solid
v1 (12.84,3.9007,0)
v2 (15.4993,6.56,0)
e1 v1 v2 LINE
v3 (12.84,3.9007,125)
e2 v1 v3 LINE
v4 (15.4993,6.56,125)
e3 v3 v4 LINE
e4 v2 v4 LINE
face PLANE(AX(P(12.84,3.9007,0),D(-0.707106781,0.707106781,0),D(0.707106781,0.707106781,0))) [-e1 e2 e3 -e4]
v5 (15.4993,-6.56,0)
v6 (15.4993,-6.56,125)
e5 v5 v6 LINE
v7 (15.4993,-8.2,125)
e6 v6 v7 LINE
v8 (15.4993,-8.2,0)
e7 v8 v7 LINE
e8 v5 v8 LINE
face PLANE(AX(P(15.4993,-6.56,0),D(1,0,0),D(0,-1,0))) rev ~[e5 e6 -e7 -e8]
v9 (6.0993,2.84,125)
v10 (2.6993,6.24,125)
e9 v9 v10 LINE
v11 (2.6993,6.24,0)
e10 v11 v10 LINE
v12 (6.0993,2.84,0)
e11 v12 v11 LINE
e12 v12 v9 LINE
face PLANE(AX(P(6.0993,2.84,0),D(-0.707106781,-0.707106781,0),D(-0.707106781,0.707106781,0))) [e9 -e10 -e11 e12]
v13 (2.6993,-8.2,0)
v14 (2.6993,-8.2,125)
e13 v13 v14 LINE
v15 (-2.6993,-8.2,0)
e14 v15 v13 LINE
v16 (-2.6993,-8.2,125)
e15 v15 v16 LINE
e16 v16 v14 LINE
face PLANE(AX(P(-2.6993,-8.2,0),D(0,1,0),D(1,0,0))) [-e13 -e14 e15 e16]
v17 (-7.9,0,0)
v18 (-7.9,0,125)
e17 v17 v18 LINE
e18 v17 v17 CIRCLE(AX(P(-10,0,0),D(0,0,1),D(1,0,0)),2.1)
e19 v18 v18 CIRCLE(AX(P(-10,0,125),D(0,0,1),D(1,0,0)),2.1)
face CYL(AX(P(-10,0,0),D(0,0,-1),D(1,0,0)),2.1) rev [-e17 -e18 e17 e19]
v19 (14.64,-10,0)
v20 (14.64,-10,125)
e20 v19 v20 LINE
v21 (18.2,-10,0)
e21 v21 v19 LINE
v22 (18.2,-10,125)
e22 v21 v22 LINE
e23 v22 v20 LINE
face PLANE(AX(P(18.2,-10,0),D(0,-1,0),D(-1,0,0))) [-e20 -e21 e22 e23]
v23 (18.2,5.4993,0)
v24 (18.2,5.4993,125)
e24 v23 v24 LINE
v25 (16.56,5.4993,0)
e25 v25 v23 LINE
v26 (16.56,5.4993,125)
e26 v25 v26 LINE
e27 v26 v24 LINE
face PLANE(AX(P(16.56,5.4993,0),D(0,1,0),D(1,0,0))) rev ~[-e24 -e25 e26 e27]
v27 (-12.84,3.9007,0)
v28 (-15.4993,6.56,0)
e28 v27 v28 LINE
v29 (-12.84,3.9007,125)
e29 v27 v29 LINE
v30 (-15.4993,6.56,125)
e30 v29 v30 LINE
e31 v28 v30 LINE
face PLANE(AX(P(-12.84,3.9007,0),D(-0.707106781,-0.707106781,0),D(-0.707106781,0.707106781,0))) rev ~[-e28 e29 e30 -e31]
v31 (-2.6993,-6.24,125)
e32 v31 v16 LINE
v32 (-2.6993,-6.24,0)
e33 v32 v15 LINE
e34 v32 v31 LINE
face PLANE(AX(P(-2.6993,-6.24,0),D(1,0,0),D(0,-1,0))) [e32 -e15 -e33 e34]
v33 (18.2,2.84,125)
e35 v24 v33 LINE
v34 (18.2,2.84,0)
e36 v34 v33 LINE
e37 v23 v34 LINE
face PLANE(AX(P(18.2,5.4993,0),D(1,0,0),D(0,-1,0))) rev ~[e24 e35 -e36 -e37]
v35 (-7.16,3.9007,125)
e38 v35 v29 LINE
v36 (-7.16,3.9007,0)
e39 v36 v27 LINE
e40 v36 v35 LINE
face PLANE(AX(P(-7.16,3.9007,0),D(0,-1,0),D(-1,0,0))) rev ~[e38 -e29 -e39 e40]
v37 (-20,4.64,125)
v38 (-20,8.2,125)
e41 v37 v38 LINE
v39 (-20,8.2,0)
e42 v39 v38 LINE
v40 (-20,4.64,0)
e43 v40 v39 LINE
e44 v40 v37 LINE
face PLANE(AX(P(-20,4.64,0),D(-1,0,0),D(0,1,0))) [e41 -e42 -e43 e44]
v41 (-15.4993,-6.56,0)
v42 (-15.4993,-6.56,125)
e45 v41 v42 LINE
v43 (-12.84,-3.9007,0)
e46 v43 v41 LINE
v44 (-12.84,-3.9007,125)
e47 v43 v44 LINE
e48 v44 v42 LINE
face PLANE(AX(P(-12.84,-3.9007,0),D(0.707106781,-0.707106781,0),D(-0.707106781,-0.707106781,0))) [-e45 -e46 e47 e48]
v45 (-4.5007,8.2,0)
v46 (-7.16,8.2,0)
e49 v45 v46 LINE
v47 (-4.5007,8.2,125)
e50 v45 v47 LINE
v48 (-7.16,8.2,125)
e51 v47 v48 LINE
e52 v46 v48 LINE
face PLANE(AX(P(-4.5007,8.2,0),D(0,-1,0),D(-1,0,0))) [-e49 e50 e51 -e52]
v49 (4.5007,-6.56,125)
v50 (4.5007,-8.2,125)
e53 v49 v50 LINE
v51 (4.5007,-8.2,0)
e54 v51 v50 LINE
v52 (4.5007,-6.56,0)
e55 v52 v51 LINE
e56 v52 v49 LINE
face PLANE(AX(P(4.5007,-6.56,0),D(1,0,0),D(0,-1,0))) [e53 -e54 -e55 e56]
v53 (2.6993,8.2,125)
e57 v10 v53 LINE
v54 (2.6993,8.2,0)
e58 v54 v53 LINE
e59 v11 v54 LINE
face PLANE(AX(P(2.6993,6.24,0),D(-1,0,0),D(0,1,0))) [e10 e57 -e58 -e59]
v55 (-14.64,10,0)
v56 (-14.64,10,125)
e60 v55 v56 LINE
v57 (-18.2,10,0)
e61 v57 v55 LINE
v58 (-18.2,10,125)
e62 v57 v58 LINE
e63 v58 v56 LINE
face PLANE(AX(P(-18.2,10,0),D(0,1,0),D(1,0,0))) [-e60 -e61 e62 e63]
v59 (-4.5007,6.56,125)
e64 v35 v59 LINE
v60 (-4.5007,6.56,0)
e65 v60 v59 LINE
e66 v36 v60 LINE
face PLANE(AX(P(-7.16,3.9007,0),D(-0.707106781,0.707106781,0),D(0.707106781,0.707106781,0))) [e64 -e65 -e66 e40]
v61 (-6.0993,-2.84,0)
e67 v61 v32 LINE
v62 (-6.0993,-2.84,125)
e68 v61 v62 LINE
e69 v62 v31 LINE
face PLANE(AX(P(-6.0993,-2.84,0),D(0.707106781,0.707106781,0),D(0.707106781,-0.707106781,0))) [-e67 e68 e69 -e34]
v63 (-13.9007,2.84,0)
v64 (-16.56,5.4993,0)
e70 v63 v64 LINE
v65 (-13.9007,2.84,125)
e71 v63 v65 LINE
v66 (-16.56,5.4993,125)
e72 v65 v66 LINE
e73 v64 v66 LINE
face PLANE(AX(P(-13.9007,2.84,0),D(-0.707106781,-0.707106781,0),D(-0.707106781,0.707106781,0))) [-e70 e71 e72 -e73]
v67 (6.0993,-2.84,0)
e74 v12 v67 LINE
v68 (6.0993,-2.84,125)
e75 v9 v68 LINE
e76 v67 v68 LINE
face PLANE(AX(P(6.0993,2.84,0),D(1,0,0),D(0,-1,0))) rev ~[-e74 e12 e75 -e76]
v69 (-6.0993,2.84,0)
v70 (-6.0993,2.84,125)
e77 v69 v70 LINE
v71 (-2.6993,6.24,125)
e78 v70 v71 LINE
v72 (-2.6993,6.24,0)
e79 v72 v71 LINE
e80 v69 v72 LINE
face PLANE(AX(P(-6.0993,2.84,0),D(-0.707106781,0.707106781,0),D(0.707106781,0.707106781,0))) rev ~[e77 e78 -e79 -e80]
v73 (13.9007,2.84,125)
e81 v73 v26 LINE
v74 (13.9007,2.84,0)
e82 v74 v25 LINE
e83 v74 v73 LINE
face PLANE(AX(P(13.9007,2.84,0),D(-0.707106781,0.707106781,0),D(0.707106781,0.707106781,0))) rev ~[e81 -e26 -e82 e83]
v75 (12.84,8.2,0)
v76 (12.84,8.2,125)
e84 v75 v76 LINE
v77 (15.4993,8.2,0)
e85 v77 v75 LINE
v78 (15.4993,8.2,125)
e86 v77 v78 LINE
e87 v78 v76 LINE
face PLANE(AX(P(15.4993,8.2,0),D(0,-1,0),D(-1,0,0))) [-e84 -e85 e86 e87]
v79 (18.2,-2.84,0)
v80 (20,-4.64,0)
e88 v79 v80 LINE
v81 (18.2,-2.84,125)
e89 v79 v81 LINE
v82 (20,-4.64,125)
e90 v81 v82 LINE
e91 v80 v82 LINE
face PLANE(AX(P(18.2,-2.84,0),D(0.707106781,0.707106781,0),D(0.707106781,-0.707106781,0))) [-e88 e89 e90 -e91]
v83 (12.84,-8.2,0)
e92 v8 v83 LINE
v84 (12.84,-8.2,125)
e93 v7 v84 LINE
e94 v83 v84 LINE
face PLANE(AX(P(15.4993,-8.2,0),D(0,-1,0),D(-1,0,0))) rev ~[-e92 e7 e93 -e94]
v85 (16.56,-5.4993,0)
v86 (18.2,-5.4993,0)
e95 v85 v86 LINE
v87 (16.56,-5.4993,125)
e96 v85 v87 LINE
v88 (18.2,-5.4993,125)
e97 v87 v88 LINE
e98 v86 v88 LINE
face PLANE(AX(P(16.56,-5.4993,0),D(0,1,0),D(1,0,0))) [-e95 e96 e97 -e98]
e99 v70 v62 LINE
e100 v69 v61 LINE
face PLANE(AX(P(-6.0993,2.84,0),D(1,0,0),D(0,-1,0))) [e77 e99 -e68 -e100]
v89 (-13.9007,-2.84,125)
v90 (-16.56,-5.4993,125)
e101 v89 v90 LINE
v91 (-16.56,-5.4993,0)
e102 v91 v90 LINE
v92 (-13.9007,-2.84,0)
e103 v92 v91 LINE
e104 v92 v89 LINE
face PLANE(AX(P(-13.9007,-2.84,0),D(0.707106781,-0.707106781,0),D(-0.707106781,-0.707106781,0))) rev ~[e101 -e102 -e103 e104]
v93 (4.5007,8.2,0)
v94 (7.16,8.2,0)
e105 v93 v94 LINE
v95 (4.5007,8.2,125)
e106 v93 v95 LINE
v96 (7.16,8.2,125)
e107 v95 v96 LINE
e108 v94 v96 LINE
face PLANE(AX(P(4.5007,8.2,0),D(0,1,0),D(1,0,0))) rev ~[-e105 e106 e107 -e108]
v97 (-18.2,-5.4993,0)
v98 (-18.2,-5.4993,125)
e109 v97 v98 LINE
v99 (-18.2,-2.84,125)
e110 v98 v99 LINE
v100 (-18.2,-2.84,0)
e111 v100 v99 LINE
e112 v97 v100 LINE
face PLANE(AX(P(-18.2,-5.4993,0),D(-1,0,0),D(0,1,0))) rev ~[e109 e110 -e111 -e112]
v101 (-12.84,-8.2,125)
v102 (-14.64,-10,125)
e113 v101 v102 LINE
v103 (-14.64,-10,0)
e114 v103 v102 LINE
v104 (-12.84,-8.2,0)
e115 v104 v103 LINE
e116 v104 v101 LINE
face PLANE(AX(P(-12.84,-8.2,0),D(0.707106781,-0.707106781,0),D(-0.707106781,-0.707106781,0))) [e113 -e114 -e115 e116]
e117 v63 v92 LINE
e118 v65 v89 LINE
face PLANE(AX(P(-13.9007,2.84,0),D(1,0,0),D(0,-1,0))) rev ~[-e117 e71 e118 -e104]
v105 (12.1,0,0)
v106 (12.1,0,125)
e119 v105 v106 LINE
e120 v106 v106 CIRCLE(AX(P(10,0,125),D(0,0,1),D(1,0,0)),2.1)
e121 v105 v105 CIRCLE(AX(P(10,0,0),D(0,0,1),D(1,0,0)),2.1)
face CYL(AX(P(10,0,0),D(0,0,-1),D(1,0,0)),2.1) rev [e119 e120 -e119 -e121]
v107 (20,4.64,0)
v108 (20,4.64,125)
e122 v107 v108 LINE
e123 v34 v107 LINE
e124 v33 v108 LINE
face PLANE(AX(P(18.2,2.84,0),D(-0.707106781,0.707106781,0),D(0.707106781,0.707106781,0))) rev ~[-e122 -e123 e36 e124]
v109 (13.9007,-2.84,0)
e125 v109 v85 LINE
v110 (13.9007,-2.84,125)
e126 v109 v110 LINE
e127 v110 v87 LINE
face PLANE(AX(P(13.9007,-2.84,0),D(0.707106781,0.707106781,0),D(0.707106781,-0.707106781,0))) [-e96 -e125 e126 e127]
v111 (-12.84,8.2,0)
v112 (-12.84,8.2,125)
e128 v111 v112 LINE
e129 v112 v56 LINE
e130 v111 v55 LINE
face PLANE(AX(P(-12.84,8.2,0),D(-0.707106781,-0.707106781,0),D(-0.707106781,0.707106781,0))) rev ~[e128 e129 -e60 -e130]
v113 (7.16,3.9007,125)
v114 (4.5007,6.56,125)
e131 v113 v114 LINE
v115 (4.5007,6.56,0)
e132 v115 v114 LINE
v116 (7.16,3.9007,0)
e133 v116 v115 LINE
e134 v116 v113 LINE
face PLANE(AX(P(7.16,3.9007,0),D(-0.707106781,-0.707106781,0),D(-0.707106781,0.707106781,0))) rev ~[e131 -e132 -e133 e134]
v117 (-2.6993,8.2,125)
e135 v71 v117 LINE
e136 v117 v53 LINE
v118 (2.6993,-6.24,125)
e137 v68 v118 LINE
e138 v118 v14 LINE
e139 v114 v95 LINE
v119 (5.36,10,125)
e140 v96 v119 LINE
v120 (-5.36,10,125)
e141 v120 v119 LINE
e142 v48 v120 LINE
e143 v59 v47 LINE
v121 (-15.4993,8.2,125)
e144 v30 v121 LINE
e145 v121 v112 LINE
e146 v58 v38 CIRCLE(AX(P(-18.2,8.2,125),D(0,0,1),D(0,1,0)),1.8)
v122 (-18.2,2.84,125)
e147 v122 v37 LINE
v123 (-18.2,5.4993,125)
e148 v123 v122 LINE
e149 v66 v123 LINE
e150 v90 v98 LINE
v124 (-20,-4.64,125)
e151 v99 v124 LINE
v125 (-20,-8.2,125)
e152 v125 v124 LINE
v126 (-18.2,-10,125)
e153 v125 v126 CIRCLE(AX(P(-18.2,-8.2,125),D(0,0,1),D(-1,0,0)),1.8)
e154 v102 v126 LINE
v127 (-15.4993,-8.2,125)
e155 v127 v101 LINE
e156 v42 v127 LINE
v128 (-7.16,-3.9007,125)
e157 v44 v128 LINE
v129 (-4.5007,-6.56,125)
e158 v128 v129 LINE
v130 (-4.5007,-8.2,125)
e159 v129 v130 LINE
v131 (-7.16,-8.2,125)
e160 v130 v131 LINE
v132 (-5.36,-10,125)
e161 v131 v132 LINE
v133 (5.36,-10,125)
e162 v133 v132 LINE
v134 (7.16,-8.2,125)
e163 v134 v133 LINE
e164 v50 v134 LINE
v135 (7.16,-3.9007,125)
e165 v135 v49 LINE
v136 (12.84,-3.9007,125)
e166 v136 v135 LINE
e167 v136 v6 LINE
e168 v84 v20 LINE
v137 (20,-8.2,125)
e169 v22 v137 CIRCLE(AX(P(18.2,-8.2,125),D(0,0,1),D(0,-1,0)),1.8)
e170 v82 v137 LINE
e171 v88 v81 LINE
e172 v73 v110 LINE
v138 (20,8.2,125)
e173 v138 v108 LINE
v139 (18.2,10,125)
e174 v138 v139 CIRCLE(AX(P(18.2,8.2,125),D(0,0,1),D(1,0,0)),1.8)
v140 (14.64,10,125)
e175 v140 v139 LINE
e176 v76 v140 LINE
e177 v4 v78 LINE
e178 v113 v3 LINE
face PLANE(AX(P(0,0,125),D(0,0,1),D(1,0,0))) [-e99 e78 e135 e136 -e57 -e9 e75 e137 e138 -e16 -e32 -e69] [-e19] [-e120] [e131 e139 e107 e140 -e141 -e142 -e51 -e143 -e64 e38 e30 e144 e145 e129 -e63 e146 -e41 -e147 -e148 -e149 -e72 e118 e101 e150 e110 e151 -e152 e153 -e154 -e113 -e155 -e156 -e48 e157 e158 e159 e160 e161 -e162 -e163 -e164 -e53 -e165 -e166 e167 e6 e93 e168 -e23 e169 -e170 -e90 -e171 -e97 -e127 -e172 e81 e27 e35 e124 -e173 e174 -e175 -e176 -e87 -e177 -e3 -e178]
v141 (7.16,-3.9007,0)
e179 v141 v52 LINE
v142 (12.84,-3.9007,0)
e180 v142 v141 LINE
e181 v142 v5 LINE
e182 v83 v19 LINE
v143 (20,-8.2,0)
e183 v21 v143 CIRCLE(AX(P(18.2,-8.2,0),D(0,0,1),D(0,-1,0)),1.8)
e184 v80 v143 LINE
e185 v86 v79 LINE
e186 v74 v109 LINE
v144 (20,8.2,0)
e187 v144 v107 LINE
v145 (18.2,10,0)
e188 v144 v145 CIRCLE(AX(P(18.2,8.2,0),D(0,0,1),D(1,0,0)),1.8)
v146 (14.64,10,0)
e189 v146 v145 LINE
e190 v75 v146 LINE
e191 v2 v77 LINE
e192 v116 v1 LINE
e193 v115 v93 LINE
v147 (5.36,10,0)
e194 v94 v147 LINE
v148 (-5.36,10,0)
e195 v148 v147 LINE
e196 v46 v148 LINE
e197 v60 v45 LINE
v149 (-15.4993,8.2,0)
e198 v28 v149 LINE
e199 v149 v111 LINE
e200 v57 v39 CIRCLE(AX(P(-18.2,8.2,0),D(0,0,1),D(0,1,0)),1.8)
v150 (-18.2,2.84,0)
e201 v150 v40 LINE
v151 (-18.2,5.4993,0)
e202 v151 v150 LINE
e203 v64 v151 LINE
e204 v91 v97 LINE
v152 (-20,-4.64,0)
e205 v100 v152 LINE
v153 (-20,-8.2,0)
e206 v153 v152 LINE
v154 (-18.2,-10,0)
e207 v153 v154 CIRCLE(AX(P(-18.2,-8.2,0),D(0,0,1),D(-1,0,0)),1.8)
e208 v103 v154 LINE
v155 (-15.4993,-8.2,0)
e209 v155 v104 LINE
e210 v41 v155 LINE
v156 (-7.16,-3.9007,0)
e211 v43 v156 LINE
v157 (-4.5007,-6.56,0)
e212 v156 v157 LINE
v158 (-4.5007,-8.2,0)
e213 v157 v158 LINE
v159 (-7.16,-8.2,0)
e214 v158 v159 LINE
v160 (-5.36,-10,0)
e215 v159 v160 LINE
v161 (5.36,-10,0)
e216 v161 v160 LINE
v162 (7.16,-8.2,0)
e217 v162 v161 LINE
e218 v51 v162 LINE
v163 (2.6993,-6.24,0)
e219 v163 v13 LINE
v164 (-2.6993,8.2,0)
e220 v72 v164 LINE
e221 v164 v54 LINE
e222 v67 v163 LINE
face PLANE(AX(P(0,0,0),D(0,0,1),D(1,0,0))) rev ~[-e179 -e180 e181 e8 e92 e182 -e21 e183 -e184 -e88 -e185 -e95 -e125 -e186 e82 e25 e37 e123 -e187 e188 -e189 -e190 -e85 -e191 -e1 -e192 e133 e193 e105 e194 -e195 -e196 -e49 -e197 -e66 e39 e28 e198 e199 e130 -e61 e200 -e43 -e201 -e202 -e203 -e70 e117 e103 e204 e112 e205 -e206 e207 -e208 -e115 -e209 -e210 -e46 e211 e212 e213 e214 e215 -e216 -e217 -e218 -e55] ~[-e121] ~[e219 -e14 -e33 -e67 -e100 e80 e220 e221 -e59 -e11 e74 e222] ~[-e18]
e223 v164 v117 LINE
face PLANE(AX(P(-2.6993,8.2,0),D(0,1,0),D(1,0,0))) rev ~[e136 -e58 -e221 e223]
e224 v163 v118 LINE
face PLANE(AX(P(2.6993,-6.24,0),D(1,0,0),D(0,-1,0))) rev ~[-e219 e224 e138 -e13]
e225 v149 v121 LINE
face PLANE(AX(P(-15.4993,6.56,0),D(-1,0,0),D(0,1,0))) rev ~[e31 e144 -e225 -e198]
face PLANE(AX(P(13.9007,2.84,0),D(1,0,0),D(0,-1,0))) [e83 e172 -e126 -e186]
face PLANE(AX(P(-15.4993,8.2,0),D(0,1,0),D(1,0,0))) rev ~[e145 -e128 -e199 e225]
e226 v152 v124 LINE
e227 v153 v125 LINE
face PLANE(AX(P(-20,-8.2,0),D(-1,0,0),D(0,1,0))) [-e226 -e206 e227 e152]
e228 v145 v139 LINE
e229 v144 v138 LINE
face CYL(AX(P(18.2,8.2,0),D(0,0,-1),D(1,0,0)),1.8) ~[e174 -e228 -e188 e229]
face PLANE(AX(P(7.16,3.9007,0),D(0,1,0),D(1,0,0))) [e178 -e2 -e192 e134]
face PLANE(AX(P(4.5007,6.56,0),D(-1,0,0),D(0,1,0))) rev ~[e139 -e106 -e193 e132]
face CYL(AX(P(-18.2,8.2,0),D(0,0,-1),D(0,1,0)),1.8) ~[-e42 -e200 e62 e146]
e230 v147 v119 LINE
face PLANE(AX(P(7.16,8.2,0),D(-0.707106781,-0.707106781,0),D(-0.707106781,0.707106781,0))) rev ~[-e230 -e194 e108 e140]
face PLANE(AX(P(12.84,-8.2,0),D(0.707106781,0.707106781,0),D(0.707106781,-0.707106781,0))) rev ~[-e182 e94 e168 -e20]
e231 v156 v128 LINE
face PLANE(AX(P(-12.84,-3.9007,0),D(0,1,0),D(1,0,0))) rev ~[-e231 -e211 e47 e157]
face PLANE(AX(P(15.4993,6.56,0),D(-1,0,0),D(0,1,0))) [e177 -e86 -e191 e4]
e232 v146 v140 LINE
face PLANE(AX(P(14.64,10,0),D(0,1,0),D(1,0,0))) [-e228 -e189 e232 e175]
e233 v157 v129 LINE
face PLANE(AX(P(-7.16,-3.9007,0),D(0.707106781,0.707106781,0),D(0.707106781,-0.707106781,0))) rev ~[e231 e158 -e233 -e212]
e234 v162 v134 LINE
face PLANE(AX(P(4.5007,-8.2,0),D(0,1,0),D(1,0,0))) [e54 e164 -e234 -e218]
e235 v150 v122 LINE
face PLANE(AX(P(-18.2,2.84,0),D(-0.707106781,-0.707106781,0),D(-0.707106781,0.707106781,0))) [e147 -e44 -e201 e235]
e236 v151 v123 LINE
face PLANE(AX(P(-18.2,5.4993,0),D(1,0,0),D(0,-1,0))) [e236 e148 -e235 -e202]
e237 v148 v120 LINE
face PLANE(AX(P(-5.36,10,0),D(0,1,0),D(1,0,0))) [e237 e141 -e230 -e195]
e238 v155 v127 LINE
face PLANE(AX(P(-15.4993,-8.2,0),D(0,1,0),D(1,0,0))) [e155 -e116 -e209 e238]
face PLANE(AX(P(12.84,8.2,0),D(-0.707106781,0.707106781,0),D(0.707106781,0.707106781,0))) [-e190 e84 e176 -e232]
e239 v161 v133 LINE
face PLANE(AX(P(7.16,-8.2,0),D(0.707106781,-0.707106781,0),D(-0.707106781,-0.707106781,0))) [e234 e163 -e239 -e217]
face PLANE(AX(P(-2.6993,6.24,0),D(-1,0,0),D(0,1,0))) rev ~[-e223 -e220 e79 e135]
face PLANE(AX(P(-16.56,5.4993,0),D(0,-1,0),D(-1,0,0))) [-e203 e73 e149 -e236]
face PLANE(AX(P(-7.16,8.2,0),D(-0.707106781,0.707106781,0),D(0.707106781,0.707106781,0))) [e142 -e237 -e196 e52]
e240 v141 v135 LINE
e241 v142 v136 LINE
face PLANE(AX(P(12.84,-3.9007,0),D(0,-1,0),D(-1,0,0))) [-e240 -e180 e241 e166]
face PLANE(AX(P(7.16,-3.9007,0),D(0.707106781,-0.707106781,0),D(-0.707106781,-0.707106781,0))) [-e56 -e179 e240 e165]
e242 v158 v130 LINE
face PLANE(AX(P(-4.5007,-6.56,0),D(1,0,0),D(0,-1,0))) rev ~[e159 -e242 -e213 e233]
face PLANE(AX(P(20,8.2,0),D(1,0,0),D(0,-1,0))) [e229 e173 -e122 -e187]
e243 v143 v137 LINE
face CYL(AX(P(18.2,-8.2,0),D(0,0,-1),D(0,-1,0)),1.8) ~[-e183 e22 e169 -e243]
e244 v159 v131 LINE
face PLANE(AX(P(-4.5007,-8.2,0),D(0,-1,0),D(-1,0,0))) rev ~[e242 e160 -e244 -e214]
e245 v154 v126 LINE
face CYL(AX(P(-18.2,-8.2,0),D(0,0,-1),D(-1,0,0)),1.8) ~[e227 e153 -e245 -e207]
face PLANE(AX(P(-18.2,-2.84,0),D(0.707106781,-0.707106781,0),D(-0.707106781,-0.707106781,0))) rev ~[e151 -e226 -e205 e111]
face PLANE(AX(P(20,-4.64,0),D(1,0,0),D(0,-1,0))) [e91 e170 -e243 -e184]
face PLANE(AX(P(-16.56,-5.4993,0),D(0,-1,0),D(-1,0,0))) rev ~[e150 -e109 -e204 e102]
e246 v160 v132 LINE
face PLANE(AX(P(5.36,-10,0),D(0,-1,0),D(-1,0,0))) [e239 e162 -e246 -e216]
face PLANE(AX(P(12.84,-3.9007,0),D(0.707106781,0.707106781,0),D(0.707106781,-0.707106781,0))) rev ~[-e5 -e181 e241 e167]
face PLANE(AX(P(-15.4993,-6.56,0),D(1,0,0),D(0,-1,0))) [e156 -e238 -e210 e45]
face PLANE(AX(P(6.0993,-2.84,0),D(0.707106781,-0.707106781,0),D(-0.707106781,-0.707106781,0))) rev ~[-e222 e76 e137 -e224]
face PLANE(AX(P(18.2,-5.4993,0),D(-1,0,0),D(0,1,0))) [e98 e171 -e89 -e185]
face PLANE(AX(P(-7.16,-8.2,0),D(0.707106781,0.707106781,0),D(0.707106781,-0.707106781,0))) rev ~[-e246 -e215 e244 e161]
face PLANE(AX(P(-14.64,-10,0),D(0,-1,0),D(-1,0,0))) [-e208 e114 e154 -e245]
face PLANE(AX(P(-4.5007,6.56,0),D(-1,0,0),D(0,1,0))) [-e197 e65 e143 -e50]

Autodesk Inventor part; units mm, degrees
ref_plane "YZ Plane" through (0, 0, 0) normal (1, 0, 0) x (0, 1, 0)
ref_plane "Start Plane" through (0, 0, 0) normal (0, 0, 1) x (1, 0, 0)
ref_plane "End Plane" through (0, 0, 10) normal (0, 0, 1) x (1, 0, 0)
sketch "Sketch3" plane through (0, 0, 0) normal (0, 0, 1) x (1, 0, 0)
  line L0 (0, 0) -> (0, 10) construction
  line L1 (-10, 10) -> (-10, 0) construction
  line L2 (0, 0) -> (-10, 0) construction
  circle A0 centre (-10, 0) radius 2.1
  line L3 (-13.9007, 3.9007) -> (-6.0993, 3.9007) construction
  line L4 (-6.0993, 3.9007) -> (-6.0993, -3.9007) construction
  line L5 (-6.0993, -3.9007) -> (-13.9007, -3.9007) construction
  line L6 (-13.9007, -3.9007) -> (-13.9007, 3.9007) construction
  line L7 (-13.9007, 3.9007) -> (-6.0993, -3.9007) construction
  line L8 (-6.0993, 3.9007) -> (-13.9007, -3.9007) construction
  line L9 (-13.9007, -2.84) -> (-12.84, -3.9007) construction
  line L10 (-13.9007, -2.84) -> (-12.4007, -2.84) construction
  line L11 (-12.84, -3.9007) -> (-15.4993, -6.56)
  line L12 (-15.4993, -6.56) -> (-15.4993, -8.2)
  line L13 (-15.4993, -8.2) -> (-12.84, -8.2)
  line L14 (-12.84, -8.2) -> (-14.64, -10)
  line L15 (-7.16, -3.9007) -> (-4.5007, -6.56)
  line L16 (-4.5007, -6.56) -> (-4.5007, -8.2)
  line L17 (-4.5007, -8.2) -> (-7.16, -8.2)
  line L18 (-7.16, -8.2) -> (-5.36, -10)
  line L19 (-12.84, -3.9007) -> (-7.16, -3.9007)
  line L20 (-12.84, 3.9007) -> (-13.9007, 2.84) construction
  line L21 (-12.84, 3.9007) -> (-12.84, 2.4007) construction
  line L22 (-13.9007, 2.84) -> (-16.56, 5.4993)
  line L23 (-16.56, 5.4993) -> (-18.2, 5.4993)
  line L24 (-18.2, 5.4993) -> (-18.2, 2.84)
  line L25 (-18.2, 2.84) -> (-20, 4.64)
  line L26 (-18.2, -2.84) -> (-20, -4.64)
  line L27 (-18.2, -5.4993) -> (-18.2, -2.84)
  line L28 (-16.56, -5.4993) -> (-18.2, -5.4993)
  line L29 (-13.9007, -2.84) -> (-16.56, -5.4993)
  line L30 (-13.9007, 2.84) -> (-13.9007, -2.84)
  line L31 (-6.0993, 2.84) -> (-7.16, 3.9007) construction
  line L32 (-6.0993, 2.84) -> (-7.5993, 2.84) construction
  line L33 (-7.16, 3.9007) -> (-4.5007, 6.56)
  line L34 (-4.5007, 6.56) -> (-4.5007, 8.2)
  line L35 (-4.5007, 8.2) -> (-7.16, 8.2)
  line L36 (-7.16, 8.2) -> (-5.36, 10)
  line L37 (-12.84, 8.2) -> (-14.64, 10)
  line L38 (-15.4993, 8.2) -> (-12.84, 8.2)
  line L39 (-15.4993, 6.56) -> (-15.4993, 8.2)
  line L40 (-12.84, 3.9007) -> (-15.4993, 6.56)
  line L41 (-7.16, 3.9007) -> (-12.84, 3.9007)
  line L42 (-6.0993, 2.84) -> (-2.6993, 6.24)
  line L43 (-2.6993, 6.24) -> (-2.6993, 8.2)
  line L44 (-4.5007, 8.2) -> (0, 8.2) construction
  line L45 (-6.0993, -2.84) -> (-2.6993, -6.24)
  line L46 (-2.6993, -6.24) -> (-2.6993, -8.2)
  line L47 (10, 10) -> (10, 0) construction
  circle A1 centre (10, 0) radius 2.1
  line L48 (13.9007, 3.9007) -> (6.0993, -3.9007) construction
  line L49 (13.9007, -2.84) -> (12.84, -3.9007) construction
  line L50 (12.84, -3.9007) -> (15.4993, -6.56)
  line L51 (15.4993, -6.56) -> (15.4993, -8.2)
  line L52 (15.4993, -8.2) -> (12.84, -8.2)
  line L53 (12.84, -8.2) -> (14.64, -10)
  line L54 (7.16, -8.2) -> (5.36, -10)
  line L55 (4.5007, -8.2) -> (7.16, -8.2)
  line L56 (4.5007, -6.56) -> (4.5007, -8.2)
  line L57 (7.16, -3.9007) -> (4.5007, -6.56)
  line L58 (12.84, -3.9007) -> (7.16, -3.9007)
  line L59 (13.9007, 2.84) -> (13.9007, -2.84)
  line L60 (13.9007, 2.84) -> (16.56, 5.4993)
  line L61 (16.56, 5.4993) -> (18.2, 5.4993)
  line L62 (18.2, 5.4993) -> (18.2, 2.84)
  line L63 (18.2, 2.84) -> (20, 4.64)
  line L64 (18.2, -5.4993) -> (18.2, -2.84)
  line L65 (18.2, -2.84) -> (20, -4.64)
  line L66 (16.56, -5.4993) -> (18.2, -5.4993)
  line L67 (13.9007, -2.84) -> (16.56, -5.4993)
  line L68 (7.16, 3.9007) -> (12.84, 3.9007)
  line L69 (7.16, 3.9007) -> (4.5007, 6.56)
  line L70 (4.5007, 6.56) -> (4.5007, 8.2)
  line L71 (4.5007, 8.2) -> (7.16, 8.2)
  line L72 (7.16, 8.2) -> (5.36, 10)
  line L73 (15.4993, 8.2) -> (12.84, 8.2)
  line L74 (12.84, 8.2) -> (14.64, 10)
  line L75 (15.4993, 6.56) -> (15.4993, 8.2)
  line L76 (12.84, 3.9007) -> (15.4993, 6.56)
  line L77 (6.0993, 2.84) -> (2.6993, 6.24)
  line L78 (2.6993, 6.24) -> (2.6993, 8.2)
  line L79 (6.0993, -2.84) -> (2.6993, -6.24)
  line L80 (2.6993, -6.24) -> (2.6993, -8.2)
  line L81 (-14.64, -10) -> (-18.2, -10)
  line L82 (-20, -8.2) -> (-20, -4.64)
  line L83 (-20, 4.64) -> (-20, 8.2)
  line L84 (-18.2, 10) -> (-14.64, 10)
  line L85 (18.2, -10) -> (14.64, -10)
  line L86 (5.36, -10) -> (-5.36, -10)
  line L87 (-5.36, 10) -> (5.36, 10)
  line L88 (14.64, 10) -> (18.2, 10)
  line L89 (20, 8.2) -> (20, 4.64)
  line L90 (20, -4.64) -> (20, -8.2)
  line L91 (-2.6993, -8.2) -> (2.6993, -8.2)
  line L92 (-2.6993, 8.2) -> (2.6993, 8.2)
  line L93 (-6.0993, 2.84) -> (-6.0993, -2.84)
  line L94 (6.0993, 2.84) -> (6.0993, -2.84)
  arc A2 (-20, -8.2) -> (-18.2, -10) centre (-18.2, -8.2) ccw
  arc A3 (-18.2, 10) -> (-20, 8.2) centre (-18.2, 8.2) ccw
  arc A4 (18.2, -10) -> (20, -8.2) centre (18.2, -8.2) ccw
  arc A5 (20, 8.2) -> (18.2, 10) centre (18.2, 8.2) ccw
  point P0 (-13.9007, -3.9007)
  point P1 (-13.9007, 3.9007)
  point P2 (-13.9007, 3.9007)
  point P3 (-6.0993, 3.9007)
  point P4 (6.0993, 3.9007)
  point P5 (13.9007, -3.9007)
  point P6 (12.4007, -2.84)
  point P7 (13.9007, -3.9007)
  point P8 (13.9007, 3.9007)
  point P9 (12.84, 3.9007)
  point P10 (12.84, 2.4007)
  point P11 (13.9007, 3.9007)
  point P12 (6.0993, 3.9007)
  point P13 (7.5993, 2.84)
  point P14 (-20, 10)
  point P15 (20, -10)
  point P16 (20, 10)
  point P17 (-20, -10)
  dimension "d26" = 10
  dimension "d27" = 10
  dimension "d28" = 4.2
  dimension "d29" = 1.5
  dimension "d30" = 45
  dimension "d32" = 45
  dimension "d33" = 1.64
  dimension "d34" = 1.8
  dimension "d35" = 10
  dimension "d36" = 5.68
  dimension "d39" = 180
  dimension "d41" = 1.96
  dimension "d42" = 5.68
  dimension "d45" = 1.8
extrude "Body" add sketch "Sketch3" along normal blind 125
sketch "Sketch4" plane through (0, 0, 0) normal (0, 0, 1) x (1, 0, 0)
  line L0 (0, 0) -> (10, 0)
ref_plane "Work Plane3" through (0, 0, 0) normal (0, -1, 0) x (1, 0, 0)
sketch "Sketch5" plane through (0, 0, 0) normal (0, -1, 0) x (1, 0, 0)
  line L0 (-2, 0) -> (12, 0)
  line L1 (-2, 10) -> (12, 10)
  dimension "d51" = 10
equation "\"d42\" = d36"
equation "\"G_OFFSET_START\" = 0"
equation "\"G_OFFSET_END\" = 0"
equation "\"G_L\" = d51"
properties part number "vslot 20 x 40" material "Aluminum 6061"
